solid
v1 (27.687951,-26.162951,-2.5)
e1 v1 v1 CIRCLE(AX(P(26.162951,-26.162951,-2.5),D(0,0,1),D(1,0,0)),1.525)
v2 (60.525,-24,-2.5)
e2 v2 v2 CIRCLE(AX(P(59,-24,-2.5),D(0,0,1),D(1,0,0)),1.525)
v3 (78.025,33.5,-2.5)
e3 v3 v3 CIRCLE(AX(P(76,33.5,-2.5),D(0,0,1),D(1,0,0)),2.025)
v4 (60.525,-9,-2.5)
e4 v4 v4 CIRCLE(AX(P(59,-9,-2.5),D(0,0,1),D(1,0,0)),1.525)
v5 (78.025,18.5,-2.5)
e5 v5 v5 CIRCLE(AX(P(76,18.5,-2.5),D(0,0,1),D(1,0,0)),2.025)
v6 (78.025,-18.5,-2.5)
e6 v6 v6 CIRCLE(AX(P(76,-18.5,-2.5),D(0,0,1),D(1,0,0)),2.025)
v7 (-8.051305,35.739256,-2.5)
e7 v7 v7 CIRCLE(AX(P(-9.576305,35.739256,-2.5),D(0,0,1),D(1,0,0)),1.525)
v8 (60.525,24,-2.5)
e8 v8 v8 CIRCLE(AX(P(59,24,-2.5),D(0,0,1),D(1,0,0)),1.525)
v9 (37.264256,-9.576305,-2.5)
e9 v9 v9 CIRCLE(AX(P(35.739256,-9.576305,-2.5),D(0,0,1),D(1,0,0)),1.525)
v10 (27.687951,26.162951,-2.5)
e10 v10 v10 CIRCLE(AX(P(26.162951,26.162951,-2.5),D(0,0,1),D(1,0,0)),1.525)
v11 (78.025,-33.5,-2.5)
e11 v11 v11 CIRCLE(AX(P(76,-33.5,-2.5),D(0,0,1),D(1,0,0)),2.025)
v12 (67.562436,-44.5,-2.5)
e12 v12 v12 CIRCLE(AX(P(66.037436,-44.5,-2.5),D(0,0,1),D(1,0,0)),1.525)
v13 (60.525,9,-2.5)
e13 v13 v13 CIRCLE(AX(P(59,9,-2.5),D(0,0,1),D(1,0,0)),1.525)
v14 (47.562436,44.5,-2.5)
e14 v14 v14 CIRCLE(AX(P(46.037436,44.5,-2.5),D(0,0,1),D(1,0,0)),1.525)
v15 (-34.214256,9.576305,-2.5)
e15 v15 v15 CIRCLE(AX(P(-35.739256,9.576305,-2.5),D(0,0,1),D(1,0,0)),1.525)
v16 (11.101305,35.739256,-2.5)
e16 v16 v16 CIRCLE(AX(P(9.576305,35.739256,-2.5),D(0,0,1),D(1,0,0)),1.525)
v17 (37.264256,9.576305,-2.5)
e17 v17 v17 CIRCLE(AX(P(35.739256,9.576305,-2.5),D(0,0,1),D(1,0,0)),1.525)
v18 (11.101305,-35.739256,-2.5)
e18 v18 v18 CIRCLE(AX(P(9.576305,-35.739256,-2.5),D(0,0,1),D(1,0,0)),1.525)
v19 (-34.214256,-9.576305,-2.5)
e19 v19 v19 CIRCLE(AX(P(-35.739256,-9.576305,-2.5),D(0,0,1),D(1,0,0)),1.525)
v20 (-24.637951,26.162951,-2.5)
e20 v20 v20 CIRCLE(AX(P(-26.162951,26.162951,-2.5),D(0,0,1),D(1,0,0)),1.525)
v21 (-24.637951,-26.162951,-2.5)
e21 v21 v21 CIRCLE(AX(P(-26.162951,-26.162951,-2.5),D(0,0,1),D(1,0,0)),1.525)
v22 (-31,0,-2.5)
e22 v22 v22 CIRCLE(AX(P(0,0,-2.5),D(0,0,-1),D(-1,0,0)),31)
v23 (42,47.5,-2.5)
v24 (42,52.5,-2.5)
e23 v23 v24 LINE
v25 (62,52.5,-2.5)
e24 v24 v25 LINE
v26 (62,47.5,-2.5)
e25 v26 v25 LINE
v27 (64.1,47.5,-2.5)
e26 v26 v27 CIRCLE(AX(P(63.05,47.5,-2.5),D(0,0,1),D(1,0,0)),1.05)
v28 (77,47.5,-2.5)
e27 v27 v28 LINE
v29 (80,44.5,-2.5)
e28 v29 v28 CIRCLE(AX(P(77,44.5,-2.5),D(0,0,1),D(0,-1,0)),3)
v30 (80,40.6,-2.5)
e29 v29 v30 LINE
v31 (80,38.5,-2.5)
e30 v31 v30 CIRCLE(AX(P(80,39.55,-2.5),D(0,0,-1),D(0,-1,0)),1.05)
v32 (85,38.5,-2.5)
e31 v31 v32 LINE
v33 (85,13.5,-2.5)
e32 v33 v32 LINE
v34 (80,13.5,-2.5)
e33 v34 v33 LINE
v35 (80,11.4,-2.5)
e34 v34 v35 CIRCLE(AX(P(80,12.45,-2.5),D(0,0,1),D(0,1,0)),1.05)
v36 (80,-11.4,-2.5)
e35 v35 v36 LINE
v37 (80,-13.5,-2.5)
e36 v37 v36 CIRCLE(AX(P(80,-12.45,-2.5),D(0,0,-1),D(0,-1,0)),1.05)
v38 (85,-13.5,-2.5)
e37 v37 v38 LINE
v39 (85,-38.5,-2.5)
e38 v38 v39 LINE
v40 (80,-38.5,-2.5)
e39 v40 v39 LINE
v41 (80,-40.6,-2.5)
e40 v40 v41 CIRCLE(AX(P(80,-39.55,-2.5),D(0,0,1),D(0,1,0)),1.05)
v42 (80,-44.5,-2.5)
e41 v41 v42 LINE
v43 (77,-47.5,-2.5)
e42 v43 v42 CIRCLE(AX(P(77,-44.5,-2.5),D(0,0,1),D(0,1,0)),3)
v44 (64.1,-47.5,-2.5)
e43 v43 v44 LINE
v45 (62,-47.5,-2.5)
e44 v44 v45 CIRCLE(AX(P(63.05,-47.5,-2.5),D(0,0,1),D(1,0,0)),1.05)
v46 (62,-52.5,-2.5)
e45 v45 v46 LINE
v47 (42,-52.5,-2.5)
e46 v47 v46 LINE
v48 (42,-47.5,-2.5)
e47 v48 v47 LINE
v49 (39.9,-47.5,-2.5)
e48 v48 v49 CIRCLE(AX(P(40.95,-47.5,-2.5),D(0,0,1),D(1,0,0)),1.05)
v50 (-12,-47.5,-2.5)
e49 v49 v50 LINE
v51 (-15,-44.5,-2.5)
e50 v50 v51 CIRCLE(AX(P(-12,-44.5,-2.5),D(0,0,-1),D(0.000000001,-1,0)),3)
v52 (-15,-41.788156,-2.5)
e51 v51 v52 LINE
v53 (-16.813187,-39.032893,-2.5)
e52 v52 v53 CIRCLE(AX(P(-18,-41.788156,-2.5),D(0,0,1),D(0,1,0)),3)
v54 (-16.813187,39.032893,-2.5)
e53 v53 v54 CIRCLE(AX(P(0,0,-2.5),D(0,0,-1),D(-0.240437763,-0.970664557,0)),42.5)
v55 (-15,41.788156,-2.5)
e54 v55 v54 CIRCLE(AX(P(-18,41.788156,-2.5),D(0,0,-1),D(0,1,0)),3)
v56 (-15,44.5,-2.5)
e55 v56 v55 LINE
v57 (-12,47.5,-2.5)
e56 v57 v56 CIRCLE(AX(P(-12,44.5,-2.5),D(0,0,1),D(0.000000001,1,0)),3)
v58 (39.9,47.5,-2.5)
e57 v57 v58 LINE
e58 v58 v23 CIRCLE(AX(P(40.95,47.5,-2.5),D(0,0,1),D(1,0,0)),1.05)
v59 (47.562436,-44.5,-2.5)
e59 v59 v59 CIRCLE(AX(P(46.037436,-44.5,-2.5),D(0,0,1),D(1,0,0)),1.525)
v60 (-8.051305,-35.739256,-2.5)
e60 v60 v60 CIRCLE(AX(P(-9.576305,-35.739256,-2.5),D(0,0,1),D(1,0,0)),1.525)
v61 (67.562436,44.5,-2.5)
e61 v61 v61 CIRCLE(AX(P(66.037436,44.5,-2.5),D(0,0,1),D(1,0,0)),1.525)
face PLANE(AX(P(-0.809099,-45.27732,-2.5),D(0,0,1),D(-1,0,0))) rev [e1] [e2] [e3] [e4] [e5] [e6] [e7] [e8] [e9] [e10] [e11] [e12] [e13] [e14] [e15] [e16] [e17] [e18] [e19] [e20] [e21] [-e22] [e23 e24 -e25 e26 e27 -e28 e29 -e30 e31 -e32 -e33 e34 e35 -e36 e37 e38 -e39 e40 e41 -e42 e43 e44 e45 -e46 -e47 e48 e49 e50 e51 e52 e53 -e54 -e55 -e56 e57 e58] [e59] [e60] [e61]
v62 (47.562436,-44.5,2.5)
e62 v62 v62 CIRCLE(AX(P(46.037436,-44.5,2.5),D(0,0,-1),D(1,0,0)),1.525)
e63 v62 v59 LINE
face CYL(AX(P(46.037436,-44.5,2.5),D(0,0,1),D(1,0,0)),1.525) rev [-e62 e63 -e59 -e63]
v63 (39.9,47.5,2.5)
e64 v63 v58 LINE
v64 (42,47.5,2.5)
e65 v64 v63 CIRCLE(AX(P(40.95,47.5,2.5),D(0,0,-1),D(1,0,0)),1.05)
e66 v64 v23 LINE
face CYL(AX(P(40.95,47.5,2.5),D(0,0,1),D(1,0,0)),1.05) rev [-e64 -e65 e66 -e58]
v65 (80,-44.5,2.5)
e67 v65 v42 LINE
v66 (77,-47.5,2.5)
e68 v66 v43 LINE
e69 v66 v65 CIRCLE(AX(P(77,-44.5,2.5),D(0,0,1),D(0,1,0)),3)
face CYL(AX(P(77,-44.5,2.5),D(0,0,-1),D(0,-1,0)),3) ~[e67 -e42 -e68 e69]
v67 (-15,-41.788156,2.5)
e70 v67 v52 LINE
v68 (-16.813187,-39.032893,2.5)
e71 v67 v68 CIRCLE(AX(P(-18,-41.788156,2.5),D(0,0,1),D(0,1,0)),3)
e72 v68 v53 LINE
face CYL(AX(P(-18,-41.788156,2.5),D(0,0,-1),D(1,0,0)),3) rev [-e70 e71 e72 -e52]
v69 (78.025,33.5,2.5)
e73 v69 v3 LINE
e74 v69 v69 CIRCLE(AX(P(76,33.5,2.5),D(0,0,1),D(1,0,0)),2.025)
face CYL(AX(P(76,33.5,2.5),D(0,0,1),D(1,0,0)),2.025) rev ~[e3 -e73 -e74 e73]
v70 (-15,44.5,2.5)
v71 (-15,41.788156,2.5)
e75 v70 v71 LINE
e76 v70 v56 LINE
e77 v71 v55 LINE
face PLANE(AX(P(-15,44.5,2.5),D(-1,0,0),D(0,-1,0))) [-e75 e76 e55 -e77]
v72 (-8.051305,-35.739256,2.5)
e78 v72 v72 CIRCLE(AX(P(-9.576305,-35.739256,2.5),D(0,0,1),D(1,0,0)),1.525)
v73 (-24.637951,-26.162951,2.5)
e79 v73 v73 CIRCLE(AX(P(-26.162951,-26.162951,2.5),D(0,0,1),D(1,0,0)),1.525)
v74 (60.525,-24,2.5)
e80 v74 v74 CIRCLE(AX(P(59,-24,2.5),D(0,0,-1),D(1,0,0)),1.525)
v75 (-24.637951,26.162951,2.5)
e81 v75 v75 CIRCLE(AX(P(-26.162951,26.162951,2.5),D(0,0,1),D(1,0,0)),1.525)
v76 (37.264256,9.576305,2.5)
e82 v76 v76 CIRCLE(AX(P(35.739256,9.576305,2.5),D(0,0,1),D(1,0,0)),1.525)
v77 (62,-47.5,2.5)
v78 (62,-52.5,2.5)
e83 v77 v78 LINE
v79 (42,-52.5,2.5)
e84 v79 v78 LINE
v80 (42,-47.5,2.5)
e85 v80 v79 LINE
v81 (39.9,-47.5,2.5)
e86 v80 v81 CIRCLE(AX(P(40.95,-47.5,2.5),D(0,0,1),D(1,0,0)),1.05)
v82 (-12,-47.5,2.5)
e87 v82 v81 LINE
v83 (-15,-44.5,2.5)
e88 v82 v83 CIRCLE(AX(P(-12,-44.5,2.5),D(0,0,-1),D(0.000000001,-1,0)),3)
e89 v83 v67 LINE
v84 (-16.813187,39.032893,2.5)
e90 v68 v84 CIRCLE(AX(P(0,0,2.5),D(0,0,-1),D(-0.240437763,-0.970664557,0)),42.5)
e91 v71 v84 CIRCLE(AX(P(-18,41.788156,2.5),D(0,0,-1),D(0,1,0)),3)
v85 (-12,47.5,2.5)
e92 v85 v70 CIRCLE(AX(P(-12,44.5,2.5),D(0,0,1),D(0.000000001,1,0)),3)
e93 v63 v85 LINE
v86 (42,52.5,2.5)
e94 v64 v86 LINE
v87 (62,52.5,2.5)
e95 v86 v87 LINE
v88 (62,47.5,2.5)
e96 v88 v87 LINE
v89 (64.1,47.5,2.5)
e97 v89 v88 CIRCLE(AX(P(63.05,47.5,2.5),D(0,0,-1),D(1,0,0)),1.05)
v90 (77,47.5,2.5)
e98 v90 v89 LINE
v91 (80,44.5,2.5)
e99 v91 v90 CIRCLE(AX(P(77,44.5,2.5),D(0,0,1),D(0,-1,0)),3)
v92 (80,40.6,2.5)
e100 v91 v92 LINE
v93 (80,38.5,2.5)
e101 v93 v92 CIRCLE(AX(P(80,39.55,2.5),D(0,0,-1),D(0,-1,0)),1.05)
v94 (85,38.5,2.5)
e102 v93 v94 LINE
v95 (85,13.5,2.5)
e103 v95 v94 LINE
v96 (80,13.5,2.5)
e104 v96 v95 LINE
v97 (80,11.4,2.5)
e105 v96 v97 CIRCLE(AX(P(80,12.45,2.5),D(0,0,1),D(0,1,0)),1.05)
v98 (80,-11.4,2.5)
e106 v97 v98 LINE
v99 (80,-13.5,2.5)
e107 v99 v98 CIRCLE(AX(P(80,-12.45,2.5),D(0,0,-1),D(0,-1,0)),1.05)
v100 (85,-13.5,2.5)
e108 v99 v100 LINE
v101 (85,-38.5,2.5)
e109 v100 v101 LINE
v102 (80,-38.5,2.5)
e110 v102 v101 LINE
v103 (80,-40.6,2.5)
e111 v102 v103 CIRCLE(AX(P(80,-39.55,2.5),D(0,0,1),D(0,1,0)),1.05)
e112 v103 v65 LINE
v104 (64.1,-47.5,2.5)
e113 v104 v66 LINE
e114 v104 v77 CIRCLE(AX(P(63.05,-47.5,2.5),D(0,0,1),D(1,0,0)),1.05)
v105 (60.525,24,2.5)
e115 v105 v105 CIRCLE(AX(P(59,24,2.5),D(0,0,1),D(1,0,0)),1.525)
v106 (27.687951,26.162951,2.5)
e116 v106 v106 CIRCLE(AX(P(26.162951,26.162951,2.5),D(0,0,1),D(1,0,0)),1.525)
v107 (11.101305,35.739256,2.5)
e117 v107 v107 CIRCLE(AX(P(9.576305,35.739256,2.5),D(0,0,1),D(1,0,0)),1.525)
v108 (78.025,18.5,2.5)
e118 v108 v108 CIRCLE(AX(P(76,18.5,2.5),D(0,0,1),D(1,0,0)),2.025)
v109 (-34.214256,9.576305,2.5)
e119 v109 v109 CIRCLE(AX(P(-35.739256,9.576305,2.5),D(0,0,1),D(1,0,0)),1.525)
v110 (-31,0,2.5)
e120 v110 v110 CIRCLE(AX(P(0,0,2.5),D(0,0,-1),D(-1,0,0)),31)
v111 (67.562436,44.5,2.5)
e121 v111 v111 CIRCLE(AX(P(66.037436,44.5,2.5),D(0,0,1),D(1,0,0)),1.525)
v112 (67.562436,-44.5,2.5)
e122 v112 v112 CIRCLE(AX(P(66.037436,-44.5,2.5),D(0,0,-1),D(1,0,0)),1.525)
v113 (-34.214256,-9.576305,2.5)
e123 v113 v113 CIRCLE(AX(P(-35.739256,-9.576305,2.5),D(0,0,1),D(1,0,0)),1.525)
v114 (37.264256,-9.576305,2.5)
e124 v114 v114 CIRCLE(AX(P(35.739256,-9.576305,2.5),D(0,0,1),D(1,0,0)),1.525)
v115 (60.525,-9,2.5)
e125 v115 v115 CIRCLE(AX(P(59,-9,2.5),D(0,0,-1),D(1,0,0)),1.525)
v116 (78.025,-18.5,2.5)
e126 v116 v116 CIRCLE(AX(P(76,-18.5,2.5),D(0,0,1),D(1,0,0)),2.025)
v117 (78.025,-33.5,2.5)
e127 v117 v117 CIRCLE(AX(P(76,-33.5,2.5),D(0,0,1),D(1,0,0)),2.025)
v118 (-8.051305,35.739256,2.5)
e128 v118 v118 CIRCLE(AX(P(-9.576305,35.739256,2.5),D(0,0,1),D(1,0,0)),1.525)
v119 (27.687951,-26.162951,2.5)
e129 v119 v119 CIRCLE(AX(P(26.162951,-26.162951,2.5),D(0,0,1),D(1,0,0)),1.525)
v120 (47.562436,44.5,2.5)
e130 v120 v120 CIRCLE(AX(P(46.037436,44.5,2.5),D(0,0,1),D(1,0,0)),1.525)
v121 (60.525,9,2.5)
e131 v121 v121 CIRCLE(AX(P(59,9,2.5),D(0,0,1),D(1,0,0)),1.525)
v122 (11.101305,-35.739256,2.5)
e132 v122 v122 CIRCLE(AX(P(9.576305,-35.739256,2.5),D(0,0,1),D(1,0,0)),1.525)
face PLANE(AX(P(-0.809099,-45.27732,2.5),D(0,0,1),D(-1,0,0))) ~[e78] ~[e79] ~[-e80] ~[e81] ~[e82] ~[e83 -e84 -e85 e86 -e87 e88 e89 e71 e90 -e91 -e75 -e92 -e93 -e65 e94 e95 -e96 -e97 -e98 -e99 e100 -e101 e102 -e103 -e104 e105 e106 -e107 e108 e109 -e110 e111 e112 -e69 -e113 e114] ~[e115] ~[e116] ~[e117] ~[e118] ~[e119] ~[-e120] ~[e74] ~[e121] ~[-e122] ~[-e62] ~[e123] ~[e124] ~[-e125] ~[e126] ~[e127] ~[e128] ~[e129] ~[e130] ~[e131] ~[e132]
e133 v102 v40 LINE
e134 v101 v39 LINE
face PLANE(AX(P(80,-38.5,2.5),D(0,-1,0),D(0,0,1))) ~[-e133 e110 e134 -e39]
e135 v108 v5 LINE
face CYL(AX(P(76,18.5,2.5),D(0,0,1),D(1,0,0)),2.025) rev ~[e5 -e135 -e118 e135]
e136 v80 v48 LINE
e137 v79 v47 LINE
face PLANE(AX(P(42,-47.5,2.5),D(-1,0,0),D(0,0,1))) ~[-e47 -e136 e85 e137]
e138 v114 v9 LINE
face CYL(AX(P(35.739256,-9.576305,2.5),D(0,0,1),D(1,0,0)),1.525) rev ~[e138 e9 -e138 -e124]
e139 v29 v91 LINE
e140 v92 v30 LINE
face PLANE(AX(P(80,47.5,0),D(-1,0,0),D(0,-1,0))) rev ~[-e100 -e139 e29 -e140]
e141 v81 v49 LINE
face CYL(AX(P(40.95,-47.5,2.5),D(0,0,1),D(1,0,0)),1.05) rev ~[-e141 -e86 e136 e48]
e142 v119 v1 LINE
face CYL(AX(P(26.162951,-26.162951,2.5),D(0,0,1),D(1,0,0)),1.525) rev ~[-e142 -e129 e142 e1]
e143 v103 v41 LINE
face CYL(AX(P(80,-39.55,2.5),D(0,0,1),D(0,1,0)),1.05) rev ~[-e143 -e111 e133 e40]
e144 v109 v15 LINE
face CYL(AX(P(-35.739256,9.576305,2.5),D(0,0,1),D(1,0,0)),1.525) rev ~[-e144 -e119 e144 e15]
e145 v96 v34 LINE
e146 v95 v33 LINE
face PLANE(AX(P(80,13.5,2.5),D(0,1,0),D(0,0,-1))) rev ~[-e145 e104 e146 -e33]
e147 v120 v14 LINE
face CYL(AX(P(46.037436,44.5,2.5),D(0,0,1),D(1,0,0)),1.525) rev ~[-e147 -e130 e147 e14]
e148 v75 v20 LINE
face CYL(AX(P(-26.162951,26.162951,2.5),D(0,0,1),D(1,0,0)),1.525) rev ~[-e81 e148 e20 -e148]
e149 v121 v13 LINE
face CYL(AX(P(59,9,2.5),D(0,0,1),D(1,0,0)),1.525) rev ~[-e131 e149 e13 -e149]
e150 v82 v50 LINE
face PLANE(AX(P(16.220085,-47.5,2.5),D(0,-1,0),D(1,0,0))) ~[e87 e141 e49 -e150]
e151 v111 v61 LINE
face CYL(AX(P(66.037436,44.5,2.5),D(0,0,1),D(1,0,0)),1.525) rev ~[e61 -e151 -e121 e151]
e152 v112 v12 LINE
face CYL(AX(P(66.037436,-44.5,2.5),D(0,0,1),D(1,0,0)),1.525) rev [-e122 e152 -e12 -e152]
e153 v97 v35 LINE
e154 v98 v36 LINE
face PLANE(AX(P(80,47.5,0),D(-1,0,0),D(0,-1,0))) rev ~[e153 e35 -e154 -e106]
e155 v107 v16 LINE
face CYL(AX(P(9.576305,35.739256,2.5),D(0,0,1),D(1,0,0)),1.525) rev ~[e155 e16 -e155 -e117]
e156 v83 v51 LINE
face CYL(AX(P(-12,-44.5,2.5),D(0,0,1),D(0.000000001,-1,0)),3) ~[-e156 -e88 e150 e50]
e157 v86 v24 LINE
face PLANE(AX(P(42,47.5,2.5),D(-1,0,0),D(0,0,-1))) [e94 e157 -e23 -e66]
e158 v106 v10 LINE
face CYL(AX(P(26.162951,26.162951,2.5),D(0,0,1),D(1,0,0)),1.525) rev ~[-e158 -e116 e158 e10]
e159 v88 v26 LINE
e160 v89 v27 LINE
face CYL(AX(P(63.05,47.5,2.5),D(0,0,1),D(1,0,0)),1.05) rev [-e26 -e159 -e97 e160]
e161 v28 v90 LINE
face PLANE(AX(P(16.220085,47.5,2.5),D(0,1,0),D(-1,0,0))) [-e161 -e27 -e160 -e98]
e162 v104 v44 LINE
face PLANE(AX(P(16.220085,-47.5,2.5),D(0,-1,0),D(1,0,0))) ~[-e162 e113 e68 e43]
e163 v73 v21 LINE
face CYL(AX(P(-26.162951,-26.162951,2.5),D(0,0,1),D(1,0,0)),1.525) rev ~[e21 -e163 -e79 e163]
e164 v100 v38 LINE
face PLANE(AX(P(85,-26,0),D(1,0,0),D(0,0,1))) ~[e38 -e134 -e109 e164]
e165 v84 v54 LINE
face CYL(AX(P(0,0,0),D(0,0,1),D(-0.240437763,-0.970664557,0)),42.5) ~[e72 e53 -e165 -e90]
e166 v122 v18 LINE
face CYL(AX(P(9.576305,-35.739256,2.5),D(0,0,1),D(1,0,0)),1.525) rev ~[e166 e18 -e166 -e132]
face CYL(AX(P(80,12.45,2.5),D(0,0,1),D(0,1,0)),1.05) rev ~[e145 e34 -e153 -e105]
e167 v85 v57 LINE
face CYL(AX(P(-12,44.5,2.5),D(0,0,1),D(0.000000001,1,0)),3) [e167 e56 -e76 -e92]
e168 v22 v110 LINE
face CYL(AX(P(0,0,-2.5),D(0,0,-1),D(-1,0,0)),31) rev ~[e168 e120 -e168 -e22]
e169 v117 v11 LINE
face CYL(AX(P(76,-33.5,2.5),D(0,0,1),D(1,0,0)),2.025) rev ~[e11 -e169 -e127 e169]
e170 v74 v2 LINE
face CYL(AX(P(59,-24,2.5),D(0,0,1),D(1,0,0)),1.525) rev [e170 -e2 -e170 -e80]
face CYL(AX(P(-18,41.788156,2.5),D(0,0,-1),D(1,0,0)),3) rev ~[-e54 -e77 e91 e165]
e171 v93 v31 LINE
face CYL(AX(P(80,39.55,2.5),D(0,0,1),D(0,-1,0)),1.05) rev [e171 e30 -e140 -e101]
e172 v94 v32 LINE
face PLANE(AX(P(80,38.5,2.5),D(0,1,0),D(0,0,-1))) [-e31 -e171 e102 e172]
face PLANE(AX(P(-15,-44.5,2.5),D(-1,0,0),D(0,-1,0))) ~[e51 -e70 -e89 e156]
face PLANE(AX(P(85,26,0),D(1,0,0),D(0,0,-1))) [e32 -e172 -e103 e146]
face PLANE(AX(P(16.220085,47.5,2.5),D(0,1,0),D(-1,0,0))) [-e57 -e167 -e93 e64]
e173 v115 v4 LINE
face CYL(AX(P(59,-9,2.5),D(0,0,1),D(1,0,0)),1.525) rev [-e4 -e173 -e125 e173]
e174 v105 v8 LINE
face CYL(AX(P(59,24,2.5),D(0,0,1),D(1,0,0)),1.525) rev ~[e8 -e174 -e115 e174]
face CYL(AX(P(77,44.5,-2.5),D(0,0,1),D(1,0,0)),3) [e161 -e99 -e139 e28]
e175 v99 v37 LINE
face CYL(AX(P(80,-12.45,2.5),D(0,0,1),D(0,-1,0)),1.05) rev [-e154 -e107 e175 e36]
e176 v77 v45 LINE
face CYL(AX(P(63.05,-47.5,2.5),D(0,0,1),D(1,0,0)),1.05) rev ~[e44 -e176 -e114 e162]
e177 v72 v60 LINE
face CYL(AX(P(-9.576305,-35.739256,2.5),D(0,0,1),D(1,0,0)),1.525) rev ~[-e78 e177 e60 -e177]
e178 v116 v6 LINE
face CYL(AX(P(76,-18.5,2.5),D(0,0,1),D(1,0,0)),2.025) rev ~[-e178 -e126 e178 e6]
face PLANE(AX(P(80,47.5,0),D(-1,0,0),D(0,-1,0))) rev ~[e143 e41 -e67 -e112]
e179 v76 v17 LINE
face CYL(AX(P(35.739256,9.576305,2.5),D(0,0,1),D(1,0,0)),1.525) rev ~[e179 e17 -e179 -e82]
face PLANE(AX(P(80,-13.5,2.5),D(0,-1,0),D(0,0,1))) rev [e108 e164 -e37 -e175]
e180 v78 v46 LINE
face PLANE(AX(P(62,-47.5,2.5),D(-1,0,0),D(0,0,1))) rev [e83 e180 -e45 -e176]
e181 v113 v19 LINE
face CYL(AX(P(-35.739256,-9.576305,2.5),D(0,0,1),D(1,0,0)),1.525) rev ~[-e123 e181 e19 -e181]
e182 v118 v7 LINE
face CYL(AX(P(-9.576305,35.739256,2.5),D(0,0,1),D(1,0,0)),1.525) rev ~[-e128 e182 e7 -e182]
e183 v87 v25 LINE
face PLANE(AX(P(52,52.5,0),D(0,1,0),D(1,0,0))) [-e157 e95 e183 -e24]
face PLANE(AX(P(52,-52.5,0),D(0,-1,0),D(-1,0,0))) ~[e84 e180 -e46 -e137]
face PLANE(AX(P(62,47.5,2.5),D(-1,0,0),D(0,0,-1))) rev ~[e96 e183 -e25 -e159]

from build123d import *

# Parameters (mm, degrees)
EXTRUDE_1_DEPTH          = 2.5
FILLET_2_R               = 10
FILLET_3_R               = 3
SKETCH_2_R               = 31
CUT_EXTRUDE_1_DEPTH      = 1
CUT_EXTRUDE_1_DEPTH_BACK = 6
SKETCH_3_R               = 1.525
CUT_EXTRUDE_2_DEPTH      = 1
CUT_EXTRUDE_2_DEPTH_BACK = 6
SKETCH_4_R               = 2.025
CUT_EXTRUDE_3_DEPTH      = 6
EXTRUDE_2_DEPTH          = 5
FILLET_4_R               = 3
SKETCH_8_R               = 1.525
CUT_EXTRUDE_6_DEPTH      = 10
SKETCH_9_W               = 20
SKETCH_9_H               = 5
EXTRUDE_3_DEPTH          = 5
CUT_EXTRUDE_7_DEPTH      = 14
SKETCH_11_W              = 5
SKETCH_11_H              = 25
EXTRUDE_4_DEPTH          = 5
CUT_EXTRUDE_8_DEPTH      = 5
SKETCH_13_R              = 1.525
CUT_EXTRUDE_9_DEPTH      = 6


with BuildPart() as part:
    # 草图1 → 凸台-拉伸1 (new body, symmetric)
    with BuildSketch(Plane.XY):
        with BuildLine():
            Line((80, 47.5), (80, -47.5))
            Line((80, -47.5), (15, -47.5))
            Line((15, -47.5), (-10.218604944, -41.253243666))
            ThreePointArc((-10.218604944, -41.253243666), (-42.5, 0), (-10.218604944, 41.253243666))
            Line((-10.218604944, 41.253243666), (15, 47.5))
            Line((15, 47.5), (80, 47.5))
        make_face()
    extrude(amount=EXTRUDE_1_DEPTH, both=True)

    # 圆角2
    fillet_2_edges = [part.edges().sort_by_distance(p)[0] for p in [
        (15, -47.5, 0),
        (15, 47.5, 0),
    ]]
    fillet(fillet_2_edges, radius=FILLET_2_R)

    # 圆角3
    fillet_3_edges = [part.edges().sort_by_distance(p)[0] for p in [
        (80, 47.5, 0),
        (80, -47.5, 0),
    ]]
    fillet(fillet_3_edges, radius=FILLET_3_R)

    # 草图2 → 切除-拉伸1 (cut, two sides)
    with BuildSketch(Plane(origin=(0, 0, -2.5), x_dir=(-1, 0, 0), z_dir=(0, 0, -1))) as cut_extrude_1_sk:
        Circle(SKETCH_2_R)
    extrude(amount=CUT_EXTRUDE_1_DEPTH, mode=Mode.SUBTRACT)
    extrude(cut_extrude_1_sk.sketch, amount=-CUT_EXTRUDE_1_DEPTH_BACK, mode=Mode.SUBTRACT)

    # 草图3 → 切除-拉伸2 (cut, two sides)
    with BuildSketch(Plane.XY.offset(2.5)) as cut_extrude_2_sk:
        with Locations((9.576304669, 35.739255573)):
            Circle(SKETCH_3_R)
        with Locations((26.162950904, 26.162950904)):
            Circle(SKETCH_3_R)
        with Locations((35.739255573, 9.576304669)):
            Circle(SKETCH_3_R)
        with Locations((35.739255573, -9.576304669)):
            Circle(SKETCH_3_R)
        with Locations((26.162950904, -26.162950904)):
            Circle(SKETCH_3_R)
        with Locations((9.576304669, -35.739255573)):
            Circle(SKETCH_3_R)
        with Locations((-9.576304669, -35.739255573)):
            Circle(SKETCH_3_R)
        with Locations((-26.162950904, -26.162950904)):
            Circle(SKETCH_3_R)
        with Locations((-35.739255573, -9.576304669)):
            Circle(SKETCH_3_R)
        with Locations((-35.739255573, 9.576304669)):
            Circle(SKETCH_3_R)
        with Locations((-26.162950904, 26.162950904)):
            Circle(SKETCH_3_R)
        with Locations((-9.576304669, 35.739255573)):
            Circle(SKETCH_3_R)
    extrude(amount=CUT_EXTRUDE_2_DEPTH, mode=Mode.SUBTRACT)
    extrude(cut_extrude_2_sk.sketch, amount=-CUT_EXTRUDE_2_DEPTH_BACK, mode=Mode.SUBTRACT)

    # 草图4 → 切除-拉伸3 (cut, through all)
    with BuildSketch(Plane.XY.offset(2.5)):
        with Locations((76, -33.5)):
            Circle(SKETCH_4_R)
        with Locations((76, -18.5)):
            Circle(SKETCH_4_R)
        with Locations((76, 18.5)):
            Circle(SKETCH_4_R)
        with Locations((76, 33.5)):
            Circle(SKETCH_4_R)
    extrude(amount=-CUT_EXTRUDE_3_DEPTH, mode=Mode.SUBTRACT)

    # 草图6 → 凸台-拉伸2 (add)
    with BuildSketch(Plane.XY.offset(2.5)):
        with BuildLine():
            Line((-15, 44.5), (-15, 39.764934301))
            Line((-15, 39.764934301), (16.220084679, 47.5))
            Line((16.220084679, 47.5), (-12, 47.5))
            ThreePointArc((-12, 47.5), (-14.121320344, 46.621320344), (-15, 44.5))
        make_face()
    extrude_2 = extrude(amount=-EXTRUDE_2_DEPTH)

    # 镜向1: 凸台-拉伸2 across plane
    add(extrude_2.mirror(Plane.ZX))

    # 圆角4
    fillet_4_edges = [part.edges().sort_by_distance(p)[0] for p in [
        (-15, 39.764934301, 0),
        (-15, -39.764934301, 0),
    ]]
    fillet(fillet_4_edges, radius=FILLET_4_R)

    # 草图8 → 切除-拉伸6 (cut)
    with BuildSketch(Plane.XY.offset(2.5)):
        with Locations((66.03743584, 44.5)):
            Circle(SKETCH_8_R)
        with Locations((46.03743584, 44.5)):
            Circle(SKETCH_8_R)
    cut_extrude_6 = extrude(amount=-CUT_EXTRUDE_6_DEPTH, mode=Mode.SUBTRACT)

    # 草图9 → 凸台-拉伸3 (add)
    with BuildSketch(Plane(origin=(0, 47.5, 0), x_dir=(1, 0, 0), z_dir=(0, 1, 0))):
        with Locations((52, 0)):
            Rectangle(SKETCH_9_W, SKETCH_9_H)
    extrude_3 = extrude(amount=EXTRUDE_3_DEPTH)

    # 草图10 → 切除-拉伸7 (cut)
    with BuildSketch(Plane.XY.offset(2.5)):
        with BuildLine():
            Line((39.9, 47.5), (42, 47.5))
            ThreePointArc((42, 47.5), (40.95, 46.45), (39.9, 47.5))
        make_face()
        with BuildLine():
            Line((62, 47.5), (64.1, 47.5))
            ThreePointArc((64.1, 47.5), (63.05, 46.45), (62, 47.5))
        make_face()
    cut_extrude_7 = extrude(amount=-CUT_EXTRUDE_7_DEPTH, mode=Mode.SUBTRACT)

    # 镜向3: 切除-拉伸6, 凸台-拉伸3 across plane
    add(cut_extrude_6.mirror(Plane.ZX), mode=Mode.SUBTRACT)
    add(extrude_3.mirror(Plane.ZX))

    # 草图11 → 凸台-拉伸4 (add)
    with BuildSketch(Plane(origin=(80, 0, 0), x_dir=(0, 0, -1), z_dir=(1, 0, 0))):
        with Locations((0, 26)):
            Rectangle(SKETCH_11_W, SKETCH_11_H)
    extrude_4 = extrude(amount=EXTRUDE_4_DEPTH)

    # 草图12 → 切除-拉伸8 (cut)
    with BuildSketch(Plane.XY.offset(2.5)):
        with BuildLine():
            Line((80, 11.4), (80, 13.5))
            ThreePointArc((80, 13.5), (78.95, 12.45), (80, 11.4))
        make_face()
        with BuildLine():
            Line((80, 40.6), (80, 38.5))
            ThreePointArc((80, 38.5), (78.95, 39.55), (80, 40.6))
        make_face()
    cut_extrude_8 = extrude(amount=-CUT_EXTRUDE_8_DEPTH, mode=Mode.SUBTRACT)

    # 镜向4: 凸台-拉伸4, 切除-拉伸8 across plane
    add(extrude_4.mirror(Plane.ZX))
    add(cut_extrude_8.mirror(Plane.ZX), mode=Mode.SUBTRACT)

    # 草图13 → 切除-拉伸9 (cut, through all)
    with BuildSketch(Plane.XY.offset(2.5)):
        with Locations((59, 9)):
            Circle(SKETCH_13_R)
        with Locations((59, 24)):
            Circle(SKETCH_13_R)
    cut_extrude_9 = extrude(amount=-CUT_EXTRUDE_9_DEPTH, mode=Mode.SUBTRACT)

    # 镜向5: 切除-拉伸9 across plane
    add(cut_extrude_9.mirror(Plane.ZX), mode=Mode.SUBTRACT)

    # 镜向6: 凸台-拉伸3, 切除-拉伸7 across plane
    add(extrude_3.mirror(Plane.ZX))
    add(cut_extrude_7.mirror(Plane.ZX), mode=Mode.SUBTRACT)


solid = part.part
